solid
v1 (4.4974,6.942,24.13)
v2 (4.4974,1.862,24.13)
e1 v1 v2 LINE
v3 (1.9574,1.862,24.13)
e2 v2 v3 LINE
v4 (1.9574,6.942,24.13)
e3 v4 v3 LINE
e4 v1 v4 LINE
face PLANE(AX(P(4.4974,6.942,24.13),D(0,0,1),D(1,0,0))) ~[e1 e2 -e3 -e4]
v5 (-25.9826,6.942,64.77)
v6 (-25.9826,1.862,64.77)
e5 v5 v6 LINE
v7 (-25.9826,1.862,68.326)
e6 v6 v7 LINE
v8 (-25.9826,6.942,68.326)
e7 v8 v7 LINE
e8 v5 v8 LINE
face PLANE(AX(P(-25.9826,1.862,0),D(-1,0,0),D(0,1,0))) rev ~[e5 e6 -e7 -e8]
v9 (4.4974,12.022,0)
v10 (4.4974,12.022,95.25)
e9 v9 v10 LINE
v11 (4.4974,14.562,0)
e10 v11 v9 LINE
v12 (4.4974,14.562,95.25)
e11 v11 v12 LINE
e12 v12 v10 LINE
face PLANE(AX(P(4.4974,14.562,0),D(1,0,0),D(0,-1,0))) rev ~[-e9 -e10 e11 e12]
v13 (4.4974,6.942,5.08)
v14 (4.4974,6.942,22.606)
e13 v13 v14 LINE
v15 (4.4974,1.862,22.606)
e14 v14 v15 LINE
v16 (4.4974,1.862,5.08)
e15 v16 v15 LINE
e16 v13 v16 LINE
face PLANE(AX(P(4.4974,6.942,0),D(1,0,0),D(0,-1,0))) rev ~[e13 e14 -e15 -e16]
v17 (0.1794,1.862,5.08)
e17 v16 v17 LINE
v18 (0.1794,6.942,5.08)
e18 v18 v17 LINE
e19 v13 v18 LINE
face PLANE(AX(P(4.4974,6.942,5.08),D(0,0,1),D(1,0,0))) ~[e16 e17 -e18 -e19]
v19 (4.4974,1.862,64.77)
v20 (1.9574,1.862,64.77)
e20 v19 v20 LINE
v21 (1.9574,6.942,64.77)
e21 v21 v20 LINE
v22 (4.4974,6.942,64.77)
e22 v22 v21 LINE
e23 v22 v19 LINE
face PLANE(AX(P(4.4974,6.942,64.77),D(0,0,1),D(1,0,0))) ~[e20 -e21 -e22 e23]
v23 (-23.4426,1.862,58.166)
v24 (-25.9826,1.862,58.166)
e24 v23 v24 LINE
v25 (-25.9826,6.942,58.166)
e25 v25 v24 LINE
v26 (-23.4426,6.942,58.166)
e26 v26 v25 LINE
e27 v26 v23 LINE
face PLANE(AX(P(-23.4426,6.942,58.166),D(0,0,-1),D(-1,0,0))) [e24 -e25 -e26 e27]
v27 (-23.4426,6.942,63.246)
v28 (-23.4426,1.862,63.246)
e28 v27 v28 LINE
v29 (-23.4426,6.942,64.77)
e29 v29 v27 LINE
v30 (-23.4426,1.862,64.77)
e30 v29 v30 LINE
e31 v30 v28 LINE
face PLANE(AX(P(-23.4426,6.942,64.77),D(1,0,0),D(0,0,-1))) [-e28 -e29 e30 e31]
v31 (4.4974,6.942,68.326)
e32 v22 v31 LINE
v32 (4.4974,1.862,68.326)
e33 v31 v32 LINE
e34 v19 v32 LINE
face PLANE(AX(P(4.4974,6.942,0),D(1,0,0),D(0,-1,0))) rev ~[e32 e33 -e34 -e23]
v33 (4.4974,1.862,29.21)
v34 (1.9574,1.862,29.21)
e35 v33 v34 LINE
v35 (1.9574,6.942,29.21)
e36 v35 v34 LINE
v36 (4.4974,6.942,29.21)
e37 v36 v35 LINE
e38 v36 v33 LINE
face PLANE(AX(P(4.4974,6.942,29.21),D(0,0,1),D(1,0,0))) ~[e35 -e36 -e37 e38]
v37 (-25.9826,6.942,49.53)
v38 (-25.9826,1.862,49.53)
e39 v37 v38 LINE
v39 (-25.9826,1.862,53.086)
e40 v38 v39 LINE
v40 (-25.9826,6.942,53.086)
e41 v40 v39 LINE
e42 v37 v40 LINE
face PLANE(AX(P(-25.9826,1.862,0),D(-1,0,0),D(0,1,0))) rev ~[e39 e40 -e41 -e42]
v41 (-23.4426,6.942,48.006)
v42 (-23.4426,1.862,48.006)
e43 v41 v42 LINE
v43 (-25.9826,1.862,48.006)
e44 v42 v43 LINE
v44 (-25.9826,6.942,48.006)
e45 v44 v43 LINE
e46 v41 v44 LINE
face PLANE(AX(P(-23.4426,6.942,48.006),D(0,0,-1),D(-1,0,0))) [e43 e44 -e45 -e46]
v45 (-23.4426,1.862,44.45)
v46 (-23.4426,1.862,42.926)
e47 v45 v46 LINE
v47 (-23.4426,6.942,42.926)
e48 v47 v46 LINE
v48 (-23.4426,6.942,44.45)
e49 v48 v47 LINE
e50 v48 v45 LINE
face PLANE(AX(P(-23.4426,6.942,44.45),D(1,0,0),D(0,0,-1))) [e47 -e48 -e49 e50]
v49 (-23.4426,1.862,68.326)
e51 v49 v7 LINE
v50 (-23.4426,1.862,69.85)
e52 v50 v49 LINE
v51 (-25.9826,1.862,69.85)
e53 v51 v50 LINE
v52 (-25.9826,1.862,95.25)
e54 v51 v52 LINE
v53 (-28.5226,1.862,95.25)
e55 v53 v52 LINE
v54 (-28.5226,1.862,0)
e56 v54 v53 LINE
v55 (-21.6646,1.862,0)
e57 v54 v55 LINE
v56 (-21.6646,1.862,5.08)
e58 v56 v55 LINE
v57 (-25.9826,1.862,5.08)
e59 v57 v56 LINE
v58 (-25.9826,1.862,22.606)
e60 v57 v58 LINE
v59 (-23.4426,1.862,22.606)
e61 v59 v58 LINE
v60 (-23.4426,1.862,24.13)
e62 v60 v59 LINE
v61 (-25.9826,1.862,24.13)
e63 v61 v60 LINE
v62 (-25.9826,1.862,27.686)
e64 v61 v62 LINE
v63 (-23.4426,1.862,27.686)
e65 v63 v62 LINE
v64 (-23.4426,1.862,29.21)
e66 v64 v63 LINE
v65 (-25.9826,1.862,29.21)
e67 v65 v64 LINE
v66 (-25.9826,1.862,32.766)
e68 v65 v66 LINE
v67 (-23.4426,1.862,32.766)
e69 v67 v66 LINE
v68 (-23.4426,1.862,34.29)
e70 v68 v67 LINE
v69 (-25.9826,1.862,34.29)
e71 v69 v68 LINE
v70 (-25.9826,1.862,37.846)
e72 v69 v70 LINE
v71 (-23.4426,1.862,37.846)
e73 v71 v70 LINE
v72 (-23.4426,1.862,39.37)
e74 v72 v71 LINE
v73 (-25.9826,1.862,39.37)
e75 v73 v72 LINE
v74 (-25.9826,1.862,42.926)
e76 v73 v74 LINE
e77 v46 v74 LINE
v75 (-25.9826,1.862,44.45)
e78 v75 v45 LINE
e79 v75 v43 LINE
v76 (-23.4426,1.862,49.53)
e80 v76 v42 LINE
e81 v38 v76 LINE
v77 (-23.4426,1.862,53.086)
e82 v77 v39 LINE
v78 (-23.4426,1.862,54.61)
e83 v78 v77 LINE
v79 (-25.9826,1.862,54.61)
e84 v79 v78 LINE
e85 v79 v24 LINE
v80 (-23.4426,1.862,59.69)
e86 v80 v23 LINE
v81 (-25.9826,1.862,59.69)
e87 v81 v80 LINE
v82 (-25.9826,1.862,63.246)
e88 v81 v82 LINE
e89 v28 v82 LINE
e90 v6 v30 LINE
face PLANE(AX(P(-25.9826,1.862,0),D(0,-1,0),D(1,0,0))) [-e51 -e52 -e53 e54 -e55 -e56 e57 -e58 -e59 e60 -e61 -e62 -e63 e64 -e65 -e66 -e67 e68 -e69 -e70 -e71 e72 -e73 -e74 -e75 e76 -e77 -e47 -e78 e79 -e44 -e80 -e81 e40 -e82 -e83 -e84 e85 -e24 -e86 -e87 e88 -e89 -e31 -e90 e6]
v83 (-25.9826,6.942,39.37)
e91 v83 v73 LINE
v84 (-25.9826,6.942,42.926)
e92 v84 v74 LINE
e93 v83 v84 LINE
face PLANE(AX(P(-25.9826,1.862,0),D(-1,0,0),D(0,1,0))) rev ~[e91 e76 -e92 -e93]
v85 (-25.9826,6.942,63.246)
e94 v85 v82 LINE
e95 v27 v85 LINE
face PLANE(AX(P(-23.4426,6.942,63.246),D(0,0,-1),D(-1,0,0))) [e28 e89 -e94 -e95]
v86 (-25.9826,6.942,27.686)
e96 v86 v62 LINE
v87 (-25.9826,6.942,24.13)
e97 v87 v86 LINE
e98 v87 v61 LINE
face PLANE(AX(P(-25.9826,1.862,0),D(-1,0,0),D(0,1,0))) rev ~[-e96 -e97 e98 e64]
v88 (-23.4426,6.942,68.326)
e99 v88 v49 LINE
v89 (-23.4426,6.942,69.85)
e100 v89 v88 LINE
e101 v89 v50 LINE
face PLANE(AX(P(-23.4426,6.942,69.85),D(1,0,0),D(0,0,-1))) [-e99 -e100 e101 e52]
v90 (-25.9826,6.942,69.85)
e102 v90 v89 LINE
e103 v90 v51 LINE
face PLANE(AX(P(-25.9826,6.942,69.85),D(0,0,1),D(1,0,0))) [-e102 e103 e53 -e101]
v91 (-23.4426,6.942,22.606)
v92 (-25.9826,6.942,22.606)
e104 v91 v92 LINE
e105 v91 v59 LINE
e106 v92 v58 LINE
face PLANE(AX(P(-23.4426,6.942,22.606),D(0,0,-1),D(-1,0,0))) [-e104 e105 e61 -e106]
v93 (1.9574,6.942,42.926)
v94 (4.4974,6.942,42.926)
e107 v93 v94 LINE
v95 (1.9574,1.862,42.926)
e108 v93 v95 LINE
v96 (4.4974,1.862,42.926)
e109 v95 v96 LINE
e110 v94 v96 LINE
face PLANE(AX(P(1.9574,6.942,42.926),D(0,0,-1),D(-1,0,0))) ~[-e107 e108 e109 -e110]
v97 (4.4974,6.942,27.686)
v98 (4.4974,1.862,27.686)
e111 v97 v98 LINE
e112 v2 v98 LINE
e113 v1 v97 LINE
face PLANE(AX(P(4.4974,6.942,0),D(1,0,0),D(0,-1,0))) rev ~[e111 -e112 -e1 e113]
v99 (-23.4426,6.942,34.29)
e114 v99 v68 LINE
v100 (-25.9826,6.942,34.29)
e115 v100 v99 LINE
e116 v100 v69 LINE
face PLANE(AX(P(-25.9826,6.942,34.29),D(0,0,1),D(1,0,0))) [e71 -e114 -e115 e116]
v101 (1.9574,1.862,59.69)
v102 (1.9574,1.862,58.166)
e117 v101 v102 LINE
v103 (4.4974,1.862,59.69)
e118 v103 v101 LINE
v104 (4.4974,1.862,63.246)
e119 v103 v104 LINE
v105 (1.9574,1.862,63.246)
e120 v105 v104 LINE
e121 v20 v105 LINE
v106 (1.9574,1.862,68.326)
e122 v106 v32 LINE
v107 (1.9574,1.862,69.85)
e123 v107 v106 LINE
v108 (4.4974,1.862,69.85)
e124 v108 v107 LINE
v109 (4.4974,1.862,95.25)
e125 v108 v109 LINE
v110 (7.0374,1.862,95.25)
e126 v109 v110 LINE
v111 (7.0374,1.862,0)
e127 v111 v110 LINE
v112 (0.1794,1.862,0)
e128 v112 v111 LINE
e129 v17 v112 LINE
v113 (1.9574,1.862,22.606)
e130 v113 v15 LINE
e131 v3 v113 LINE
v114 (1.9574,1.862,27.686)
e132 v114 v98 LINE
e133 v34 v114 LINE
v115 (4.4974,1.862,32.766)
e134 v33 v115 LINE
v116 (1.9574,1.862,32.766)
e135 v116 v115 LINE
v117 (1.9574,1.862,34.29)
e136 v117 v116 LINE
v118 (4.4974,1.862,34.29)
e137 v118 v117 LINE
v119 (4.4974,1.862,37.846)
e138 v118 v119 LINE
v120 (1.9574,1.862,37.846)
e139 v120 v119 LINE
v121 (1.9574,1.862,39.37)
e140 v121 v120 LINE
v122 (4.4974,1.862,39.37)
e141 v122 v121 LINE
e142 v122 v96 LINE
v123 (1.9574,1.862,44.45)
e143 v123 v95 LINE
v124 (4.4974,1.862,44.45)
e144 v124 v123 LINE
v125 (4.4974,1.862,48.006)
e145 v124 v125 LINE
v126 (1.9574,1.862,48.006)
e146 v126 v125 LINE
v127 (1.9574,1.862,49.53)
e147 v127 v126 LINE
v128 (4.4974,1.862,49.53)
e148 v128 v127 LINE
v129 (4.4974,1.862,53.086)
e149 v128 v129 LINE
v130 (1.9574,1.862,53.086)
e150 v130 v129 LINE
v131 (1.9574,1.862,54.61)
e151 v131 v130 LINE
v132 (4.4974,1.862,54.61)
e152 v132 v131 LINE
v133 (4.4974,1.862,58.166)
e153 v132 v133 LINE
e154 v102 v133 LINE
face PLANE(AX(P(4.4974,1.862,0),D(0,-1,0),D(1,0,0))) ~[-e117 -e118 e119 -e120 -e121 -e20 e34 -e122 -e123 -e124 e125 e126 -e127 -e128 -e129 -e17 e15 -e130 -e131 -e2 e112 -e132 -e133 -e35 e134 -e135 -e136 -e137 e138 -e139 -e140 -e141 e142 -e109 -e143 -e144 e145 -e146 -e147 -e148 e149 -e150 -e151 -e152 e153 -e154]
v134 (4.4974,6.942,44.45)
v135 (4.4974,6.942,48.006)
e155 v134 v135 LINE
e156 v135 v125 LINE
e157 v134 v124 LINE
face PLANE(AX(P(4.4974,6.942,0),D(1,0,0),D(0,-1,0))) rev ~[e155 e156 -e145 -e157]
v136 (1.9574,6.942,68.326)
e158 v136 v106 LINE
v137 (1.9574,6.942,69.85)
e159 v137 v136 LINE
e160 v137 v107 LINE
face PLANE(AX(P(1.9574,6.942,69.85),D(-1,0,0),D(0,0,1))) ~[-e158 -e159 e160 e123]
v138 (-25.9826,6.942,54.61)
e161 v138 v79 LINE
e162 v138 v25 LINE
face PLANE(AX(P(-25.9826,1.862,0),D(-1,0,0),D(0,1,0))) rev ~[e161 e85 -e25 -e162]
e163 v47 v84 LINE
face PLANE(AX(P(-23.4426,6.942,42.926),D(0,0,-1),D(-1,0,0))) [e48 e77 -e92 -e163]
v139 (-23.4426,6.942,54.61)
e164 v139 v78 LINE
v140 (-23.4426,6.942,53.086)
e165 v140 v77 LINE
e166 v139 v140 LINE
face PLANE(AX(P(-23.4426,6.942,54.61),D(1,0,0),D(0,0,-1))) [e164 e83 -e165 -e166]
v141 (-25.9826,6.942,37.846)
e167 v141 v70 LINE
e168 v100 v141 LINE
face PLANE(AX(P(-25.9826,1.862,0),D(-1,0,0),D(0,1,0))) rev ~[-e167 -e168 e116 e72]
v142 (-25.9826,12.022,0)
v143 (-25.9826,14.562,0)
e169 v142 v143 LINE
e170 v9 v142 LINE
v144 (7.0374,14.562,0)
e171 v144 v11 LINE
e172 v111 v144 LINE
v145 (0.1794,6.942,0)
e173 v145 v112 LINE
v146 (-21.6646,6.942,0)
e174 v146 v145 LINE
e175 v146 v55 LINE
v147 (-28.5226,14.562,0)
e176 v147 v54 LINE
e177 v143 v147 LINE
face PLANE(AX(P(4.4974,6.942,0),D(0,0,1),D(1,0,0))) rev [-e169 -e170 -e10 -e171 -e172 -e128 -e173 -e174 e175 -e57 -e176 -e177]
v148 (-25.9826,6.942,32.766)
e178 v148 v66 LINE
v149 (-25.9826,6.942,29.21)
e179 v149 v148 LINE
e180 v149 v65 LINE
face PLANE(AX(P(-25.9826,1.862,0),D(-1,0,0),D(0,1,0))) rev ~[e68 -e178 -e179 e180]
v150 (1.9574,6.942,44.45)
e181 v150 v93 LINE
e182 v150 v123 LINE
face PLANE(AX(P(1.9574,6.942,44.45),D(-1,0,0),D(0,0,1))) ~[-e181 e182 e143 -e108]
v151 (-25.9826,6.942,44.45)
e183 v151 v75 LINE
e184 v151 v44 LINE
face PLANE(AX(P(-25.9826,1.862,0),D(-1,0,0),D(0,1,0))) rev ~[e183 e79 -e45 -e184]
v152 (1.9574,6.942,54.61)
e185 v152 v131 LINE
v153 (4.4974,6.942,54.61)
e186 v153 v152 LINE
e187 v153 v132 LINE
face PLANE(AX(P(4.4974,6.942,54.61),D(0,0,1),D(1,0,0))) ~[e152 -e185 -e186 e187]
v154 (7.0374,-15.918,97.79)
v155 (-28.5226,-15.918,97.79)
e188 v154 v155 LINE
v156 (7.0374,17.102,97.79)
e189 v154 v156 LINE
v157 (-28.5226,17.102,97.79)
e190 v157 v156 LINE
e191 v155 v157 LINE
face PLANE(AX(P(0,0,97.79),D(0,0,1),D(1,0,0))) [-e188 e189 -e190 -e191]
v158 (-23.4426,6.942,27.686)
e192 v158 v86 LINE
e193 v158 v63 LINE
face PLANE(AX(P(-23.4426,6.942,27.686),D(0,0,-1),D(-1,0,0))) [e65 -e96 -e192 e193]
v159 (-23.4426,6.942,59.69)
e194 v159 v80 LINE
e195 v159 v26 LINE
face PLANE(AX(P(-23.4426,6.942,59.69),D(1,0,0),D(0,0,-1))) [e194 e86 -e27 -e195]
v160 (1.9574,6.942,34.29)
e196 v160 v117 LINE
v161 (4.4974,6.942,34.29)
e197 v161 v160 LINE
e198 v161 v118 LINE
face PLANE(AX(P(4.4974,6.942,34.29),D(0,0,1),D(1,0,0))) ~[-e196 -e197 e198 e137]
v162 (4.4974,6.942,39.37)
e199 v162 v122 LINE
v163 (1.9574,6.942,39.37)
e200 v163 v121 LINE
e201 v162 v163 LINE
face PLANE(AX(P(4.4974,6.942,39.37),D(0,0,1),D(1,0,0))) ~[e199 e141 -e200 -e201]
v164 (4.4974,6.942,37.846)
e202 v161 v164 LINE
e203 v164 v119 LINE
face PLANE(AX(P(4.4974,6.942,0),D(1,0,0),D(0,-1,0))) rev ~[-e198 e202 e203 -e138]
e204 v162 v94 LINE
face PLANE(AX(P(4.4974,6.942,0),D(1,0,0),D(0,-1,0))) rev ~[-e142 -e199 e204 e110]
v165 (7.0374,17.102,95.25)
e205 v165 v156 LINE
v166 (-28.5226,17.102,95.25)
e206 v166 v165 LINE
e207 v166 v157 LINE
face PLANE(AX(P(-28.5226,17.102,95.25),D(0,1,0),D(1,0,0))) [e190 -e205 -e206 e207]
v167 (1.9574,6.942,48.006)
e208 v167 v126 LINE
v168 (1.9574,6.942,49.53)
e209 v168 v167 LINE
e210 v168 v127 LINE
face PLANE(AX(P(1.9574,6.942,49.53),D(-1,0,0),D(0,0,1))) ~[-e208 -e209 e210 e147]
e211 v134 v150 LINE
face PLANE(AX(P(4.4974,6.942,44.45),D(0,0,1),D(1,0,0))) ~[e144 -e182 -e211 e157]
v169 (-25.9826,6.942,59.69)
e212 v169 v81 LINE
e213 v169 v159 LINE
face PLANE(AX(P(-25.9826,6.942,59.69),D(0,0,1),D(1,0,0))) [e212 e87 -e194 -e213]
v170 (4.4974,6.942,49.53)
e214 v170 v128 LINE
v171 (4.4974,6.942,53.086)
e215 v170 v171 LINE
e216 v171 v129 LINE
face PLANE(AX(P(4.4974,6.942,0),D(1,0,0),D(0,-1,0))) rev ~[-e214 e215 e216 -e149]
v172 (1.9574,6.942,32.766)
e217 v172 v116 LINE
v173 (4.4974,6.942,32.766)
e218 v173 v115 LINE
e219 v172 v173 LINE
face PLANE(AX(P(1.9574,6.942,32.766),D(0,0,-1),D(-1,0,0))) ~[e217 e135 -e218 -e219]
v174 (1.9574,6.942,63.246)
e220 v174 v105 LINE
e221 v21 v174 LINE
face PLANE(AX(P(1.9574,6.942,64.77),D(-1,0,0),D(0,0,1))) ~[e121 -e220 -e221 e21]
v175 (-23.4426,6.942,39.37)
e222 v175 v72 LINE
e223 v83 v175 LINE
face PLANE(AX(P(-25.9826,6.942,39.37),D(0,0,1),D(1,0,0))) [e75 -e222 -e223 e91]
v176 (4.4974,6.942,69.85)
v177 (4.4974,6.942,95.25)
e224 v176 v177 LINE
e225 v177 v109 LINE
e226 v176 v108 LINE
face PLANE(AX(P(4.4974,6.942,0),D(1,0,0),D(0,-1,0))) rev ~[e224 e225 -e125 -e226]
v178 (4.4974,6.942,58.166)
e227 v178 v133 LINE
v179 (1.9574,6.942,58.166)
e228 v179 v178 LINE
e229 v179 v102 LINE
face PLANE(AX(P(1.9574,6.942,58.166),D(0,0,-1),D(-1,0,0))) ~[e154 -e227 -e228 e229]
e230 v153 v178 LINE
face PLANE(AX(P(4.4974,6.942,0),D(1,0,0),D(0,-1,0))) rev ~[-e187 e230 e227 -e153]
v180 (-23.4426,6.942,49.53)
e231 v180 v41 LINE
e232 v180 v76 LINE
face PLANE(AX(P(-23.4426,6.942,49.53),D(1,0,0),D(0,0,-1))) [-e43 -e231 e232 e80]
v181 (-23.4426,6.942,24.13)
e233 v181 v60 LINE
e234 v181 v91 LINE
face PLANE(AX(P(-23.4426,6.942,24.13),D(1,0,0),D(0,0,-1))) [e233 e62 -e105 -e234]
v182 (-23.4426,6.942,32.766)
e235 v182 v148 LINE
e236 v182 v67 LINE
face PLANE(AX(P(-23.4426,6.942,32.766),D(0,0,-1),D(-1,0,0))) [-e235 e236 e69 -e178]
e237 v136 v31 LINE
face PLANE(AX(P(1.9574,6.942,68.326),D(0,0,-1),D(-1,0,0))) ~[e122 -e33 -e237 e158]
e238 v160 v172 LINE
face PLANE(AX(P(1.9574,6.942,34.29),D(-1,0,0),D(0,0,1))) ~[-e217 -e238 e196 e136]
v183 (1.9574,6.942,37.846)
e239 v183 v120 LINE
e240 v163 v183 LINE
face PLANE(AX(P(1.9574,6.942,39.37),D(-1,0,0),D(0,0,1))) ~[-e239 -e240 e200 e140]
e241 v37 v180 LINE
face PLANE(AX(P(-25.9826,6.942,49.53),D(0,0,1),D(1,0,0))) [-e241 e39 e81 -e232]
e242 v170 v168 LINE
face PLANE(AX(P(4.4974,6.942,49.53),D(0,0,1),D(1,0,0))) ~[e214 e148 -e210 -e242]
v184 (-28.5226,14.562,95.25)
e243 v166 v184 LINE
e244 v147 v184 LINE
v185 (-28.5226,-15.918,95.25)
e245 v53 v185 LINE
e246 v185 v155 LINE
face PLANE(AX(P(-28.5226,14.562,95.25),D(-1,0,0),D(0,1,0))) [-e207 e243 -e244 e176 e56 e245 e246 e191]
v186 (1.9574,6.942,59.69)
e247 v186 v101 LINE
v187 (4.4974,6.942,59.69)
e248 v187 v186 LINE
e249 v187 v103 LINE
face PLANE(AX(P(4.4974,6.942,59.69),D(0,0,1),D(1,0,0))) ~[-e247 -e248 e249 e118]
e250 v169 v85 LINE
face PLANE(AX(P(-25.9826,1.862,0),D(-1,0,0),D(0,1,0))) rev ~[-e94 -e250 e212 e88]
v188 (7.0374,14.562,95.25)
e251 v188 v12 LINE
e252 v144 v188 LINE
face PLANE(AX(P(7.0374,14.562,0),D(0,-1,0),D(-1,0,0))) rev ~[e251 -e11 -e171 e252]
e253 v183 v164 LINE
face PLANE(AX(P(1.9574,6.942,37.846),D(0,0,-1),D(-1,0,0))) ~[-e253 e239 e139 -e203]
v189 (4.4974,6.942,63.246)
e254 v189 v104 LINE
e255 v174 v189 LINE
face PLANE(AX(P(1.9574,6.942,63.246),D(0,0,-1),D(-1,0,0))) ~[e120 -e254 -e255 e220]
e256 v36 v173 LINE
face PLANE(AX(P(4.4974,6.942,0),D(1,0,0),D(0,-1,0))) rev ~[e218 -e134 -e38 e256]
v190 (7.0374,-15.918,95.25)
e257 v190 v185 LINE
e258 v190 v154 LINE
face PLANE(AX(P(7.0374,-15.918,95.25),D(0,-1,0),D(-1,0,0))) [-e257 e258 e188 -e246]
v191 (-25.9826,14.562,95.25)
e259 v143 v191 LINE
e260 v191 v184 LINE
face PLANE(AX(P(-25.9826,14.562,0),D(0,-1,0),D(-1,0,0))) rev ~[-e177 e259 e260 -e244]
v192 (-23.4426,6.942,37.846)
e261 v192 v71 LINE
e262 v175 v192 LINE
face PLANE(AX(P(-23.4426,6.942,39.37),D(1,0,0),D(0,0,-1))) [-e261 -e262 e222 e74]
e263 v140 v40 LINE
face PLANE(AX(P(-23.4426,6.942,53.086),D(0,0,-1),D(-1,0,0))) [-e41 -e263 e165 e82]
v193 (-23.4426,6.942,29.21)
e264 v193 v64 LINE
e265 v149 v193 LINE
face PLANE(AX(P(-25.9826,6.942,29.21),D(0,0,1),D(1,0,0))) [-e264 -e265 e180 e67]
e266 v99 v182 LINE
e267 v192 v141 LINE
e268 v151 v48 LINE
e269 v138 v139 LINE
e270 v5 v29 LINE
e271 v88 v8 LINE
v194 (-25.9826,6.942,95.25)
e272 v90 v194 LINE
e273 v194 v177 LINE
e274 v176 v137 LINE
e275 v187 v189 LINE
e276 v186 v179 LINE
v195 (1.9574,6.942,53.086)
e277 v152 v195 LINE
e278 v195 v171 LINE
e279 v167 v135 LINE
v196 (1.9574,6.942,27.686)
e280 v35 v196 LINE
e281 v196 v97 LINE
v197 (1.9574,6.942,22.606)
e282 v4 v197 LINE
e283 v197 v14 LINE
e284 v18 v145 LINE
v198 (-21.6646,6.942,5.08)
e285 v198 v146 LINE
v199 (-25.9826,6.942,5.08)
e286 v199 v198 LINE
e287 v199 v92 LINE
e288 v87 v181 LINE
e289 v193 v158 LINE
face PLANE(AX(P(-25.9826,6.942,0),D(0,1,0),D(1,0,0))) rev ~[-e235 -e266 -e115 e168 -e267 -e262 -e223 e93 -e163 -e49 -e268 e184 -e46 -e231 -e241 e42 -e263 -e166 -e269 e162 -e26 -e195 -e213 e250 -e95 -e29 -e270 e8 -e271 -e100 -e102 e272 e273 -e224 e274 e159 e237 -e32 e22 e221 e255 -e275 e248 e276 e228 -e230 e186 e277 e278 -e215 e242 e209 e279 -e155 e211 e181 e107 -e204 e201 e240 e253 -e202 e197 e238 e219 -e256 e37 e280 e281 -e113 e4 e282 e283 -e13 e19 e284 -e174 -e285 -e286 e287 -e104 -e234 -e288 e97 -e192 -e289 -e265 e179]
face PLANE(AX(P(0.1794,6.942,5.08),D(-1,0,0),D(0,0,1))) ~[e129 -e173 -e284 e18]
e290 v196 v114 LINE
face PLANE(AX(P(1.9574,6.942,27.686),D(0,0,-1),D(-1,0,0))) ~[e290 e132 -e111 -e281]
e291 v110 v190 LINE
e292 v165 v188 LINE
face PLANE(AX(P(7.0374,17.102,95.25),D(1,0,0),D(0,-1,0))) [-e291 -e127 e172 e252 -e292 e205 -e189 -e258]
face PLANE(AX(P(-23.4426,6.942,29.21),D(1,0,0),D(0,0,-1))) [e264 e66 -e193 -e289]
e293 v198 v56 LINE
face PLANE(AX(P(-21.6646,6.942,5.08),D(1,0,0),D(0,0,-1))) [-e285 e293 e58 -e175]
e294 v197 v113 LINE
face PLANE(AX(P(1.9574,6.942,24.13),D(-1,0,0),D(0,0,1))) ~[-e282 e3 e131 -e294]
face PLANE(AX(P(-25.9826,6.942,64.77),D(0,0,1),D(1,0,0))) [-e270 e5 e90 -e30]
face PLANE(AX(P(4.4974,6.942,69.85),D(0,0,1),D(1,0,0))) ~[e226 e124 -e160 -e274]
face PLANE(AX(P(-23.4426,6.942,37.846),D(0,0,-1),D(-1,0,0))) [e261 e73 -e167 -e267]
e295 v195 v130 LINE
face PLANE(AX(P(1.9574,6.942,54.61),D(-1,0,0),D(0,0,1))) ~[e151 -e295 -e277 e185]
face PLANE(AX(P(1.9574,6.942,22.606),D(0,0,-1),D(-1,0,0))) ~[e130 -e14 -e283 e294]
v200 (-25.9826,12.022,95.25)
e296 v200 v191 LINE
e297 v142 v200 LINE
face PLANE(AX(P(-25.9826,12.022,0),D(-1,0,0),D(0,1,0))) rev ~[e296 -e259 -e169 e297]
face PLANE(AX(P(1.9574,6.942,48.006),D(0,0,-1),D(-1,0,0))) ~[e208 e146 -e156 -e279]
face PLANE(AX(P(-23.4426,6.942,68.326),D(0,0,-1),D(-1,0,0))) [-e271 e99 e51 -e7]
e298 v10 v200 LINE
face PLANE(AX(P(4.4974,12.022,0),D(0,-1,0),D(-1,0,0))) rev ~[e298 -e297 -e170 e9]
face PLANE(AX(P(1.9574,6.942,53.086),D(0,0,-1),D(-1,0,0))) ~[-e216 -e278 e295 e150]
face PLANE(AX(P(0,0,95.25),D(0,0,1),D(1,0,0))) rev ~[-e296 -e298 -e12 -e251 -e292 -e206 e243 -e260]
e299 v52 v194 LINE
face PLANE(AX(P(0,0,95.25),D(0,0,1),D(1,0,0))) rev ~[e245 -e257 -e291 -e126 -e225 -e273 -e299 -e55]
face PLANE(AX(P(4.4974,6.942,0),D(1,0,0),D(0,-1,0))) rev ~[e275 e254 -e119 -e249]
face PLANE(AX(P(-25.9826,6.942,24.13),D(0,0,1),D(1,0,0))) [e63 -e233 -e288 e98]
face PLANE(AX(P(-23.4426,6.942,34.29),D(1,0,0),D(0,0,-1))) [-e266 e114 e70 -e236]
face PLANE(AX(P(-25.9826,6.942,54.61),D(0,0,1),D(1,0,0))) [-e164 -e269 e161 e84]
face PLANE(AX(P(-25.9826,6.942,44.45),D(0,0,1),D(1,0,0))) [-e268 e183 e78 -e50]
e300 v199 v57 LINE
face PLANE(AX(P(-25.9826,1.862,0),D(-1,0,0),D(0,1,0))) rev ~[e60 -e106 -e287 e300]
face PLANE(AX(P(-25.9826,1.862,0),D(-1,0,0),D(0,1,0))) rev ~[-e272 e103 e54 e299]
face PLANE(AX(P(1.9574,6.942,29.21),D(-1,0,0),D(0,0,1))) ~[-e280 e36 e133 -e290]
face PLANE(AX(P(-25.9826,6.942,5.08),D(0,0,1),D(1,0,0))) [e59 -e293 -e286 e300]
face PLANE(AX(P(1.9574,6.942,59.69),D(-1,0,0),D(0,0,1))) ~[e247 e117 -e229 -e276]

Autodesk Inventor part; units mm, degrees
ref_plane "YZ Plane" through (0, 0, 0) normal (1, 0, 0) x (0, 1, 0)
ref_plane "XZ Plane" through (0, 0, 0) normal (0, 1, 0) x (-1, 0, 0)
sketch "Sketch1" plane through (0, 0, 0) normal (0, 0, 1) x (1, 0, 0)
  line L0 (-28.5226, 14.562) -> (-28.5226, 1.862)
  line L1 (-28.5226, 1.862) -> (-25.9826, 1.862)
  line L2 (-25.9826, 1.862) -> (-25.9826, 6.942)
  line L3 (-25.9826, 6.942) -> (4.4974, 6.942)
  line L4 (4.4974, 6.942) -> (4.4974, 1.862)
  line L5 (4.4974, 1.862) -> (7.0374, 1.862)
  line L6 (7.0374, 1.862) -> (7.0374, 14.562)
  line L7 (7.0374, 14.562) -> (4.4974, 14.562)
  line L8 (4.4974, 14.562) -> (4.4974, 12.022)
  line L9 (4.4974, 12.022) -> (-25.9826, 12.022)
  line L10 (-25.9826, 12.022) -> (-25.9826, 14.562)
  line L11 (-25.9826, 14.562) -> (-28.5226, 14.562)
  dimension "d0" = 35.56
  dimension "d1" = 2.54
  dimension "d2" = 12.7
  dimension "d3" = 5.08
  dimension "d4" = 2.54
  dimension "d5" = 2.54
extrude "Extrusion1" add sketch "Sketch1" along normal blind 95.25
sketch "Sketch2" plane through (-25.9826, 6.942, 0) normal (0, -1, 0) x (1, 0, 0)
  line L0 (30.48, 95.25) -> (0, 95.25) projected
  line L1 (0, 69.85) -> (2.54, 69.85)
  line L2 (2.54, 69.85) -> (2.54, 68.326)
  line L3 (2.54, 68.326) -> (0, 68.326)
  line L4 (0, 68.326) -> (0, 69.85)
  line L5 (0, 0) -> (0, 95.25) projected
  dimension "d8" = 1.524
  dimension "d9" = 2.54
  dimension "d10" = 25.4
extrude "Extrusion2" add sketch "Sketch2" along normal up to surface (5.08 mm away)
pattern_linear "Rectangular Pattern1" count 10 spacing 5.08 along (0, 0, -1) of "Extrusion2"
sketch "Sketch3" plane through (-25.9826, 6.942, 0) normal (0, -1, 0) x (1, 0, 0)
  line L0 (0, 49.53) -> (2.54, 49.53) projected
  line L1 (2.54, 49.53) -> (2.54, 48.006) projected
  line L2 (2.54, 48.006) -> (0, 48.006) projected
  line L3 (0, 44.45) -> (0, 48.006) projected
  line L4 (0, 44.45) -> (2.54, 44.45) projected
  line L5 (2.54, 44.45) -> (2.54, 42.926) projected
  line L6 (2.54, 42.926) -> (0, 42.926) projected
  line L7 (0, 0) -> (0, 42.926) projected
  line L8 (0, 0) -> (30.48, 0) projected
  line L9 (30.48, 0) -> (30.48, 95.25) projected
  line L10 (30.48, 95.25) -> (0, 95.25) projected
  line L11 (0, 69.85) -> (0, 95.25) projected
  line L12 (0, 69.85) -> (2.54, 69.85) projected
  line L13 (2.54, 69.85) -> (2.54, 68.326) projected
  line L14 (2.54, 68.326) -> (0, 68.326) projected
  line L15 (0, 64.77) -> (0, 68.326) projected
  line L16 (0, 64.77) -> (2.54, 64.77) projected
  line L17 (2.54, 64.77) -> (2.54, 63.246) projected
  line L18 (2.54, 63.246) -> (0, 63.246) projected
  line L19 (0, 59.69) -> (0, 63.246) projected
  line L20 (0, 59.69) -> (2.54, 59.69) projected
  line L21 (2.54, 59.69) -> (2.54, 58.166) projected
  line L22 (2.54, 58.166) -> (0, 58.166) projected
  line L23 (0, 54.61) -> (0, 58.166) projected
  line L24 (0, 54.61) -> (2.54, 54.61) projected
  line L25 (2.54, 54.61) -> (2.54, 53.086) projected
  line L26 (2.54, 53.086) -> (0, 53.086) projected
  line L27 (0, 49.53) -> (0, 53.086) projected
  line L28 (15.24, 80.1212) -> (15.24, 49.6412)
  circle A0 centre (15.24, 64.8812) radius 15.24 construction
  line L29 (30.48, 0) -> (30.48, 95.25) projected
  line L30 (0, 69.85) -> (0, 95.25) projected
ref_plane "Work Plane1" through (-10.7426, 6.942, 80.1212) normal (-1, 0, 0) x (0, -1, 0)
sketch "Sketch4" plane through (-25.9826, 6.942, 0) normal (0, -1, 0) x (1, 0, 0)
  line L0 (0, 0) -> (0, 22.606) projected
  line L1 (0, 0) -> (30.48, 0) projected
  line L2 (0, 0) -> (5.8186, 0)
  line L3 (0, 5.08) -> (4.318, 5.08)
  line L4 (4.318, 5.08) -> (4.318, 0)
  dimension "d17" = 5.08
  dimension "d18" = 4.318
extrude "Extrusion3" add sketch "Sketch4" along normal up to surface (5.08 mm away)
mirror "Mirror1" about plane through (-10.7426, 6.942, 80.1212) normal (-1, 0, 0) of "Extrusion2", "Rectangular Pattern1"
mirror "Mirror2" about plane through (-10.7426, 6.942, 80.1212) normal (-1, 0, 0) of "Extrusion3"
sketch "Sketch5" plane through (0, 0, 95.25) normal (0, 0, 1) x (1, 0, 0)
  line L0 (-28.5226, 14.562) -> (-25.9826, 14.562) projected
  line L1 (-28.5226, 1.862) -> (-28.5226, 14.562) projected
  line L2 (-25.9826, 1.862) -> (-28.5226, 1.862) projected
  line L3 (-25.9826, 6.942) -> (-25.9826, 1.862) projected
  line L4 (4.4974, 6.942) -> (-25.9826, 6.942) projected
  line L5 (4.4974, 1.862) -> (4.4974, 6.942) projected
  line L6 (7.0374, 1.862) -> (4.4974, 1.862) projected
  line L7 (7.0374, 14.562) -> (7.0374, 1.862) projected
  line L8 (4.4974, 14.562) -> (7.0374, 14.562) projected
  line L9 (4.4974, 12.022) -> (4.4974, 14.562) projected
  line L10 (-25.9826, 12.022) -> (4.4974, 12.022) projected
  line L11 (-25.9826, 14.562) -> (-25.9826, 12.022) projected
  line L12 (-28.5226, 17.102) -> (7.0374, 17.102)
  line L13 (7.0374, 17.102) -> (7.0374, -15.918)
  line L14 (7.0374, -15.918) -> (-28.5226, -15.918)
  line L15 (-28.5226, -15.918) -> (-28.5226, 17.102)
  dimension "d21" = 33.02
  dimension "d22" = 17.78
extrude "Extrusion4" add sketch "Sketch5" along normal blind 2.54
properties part number "slidelat"
